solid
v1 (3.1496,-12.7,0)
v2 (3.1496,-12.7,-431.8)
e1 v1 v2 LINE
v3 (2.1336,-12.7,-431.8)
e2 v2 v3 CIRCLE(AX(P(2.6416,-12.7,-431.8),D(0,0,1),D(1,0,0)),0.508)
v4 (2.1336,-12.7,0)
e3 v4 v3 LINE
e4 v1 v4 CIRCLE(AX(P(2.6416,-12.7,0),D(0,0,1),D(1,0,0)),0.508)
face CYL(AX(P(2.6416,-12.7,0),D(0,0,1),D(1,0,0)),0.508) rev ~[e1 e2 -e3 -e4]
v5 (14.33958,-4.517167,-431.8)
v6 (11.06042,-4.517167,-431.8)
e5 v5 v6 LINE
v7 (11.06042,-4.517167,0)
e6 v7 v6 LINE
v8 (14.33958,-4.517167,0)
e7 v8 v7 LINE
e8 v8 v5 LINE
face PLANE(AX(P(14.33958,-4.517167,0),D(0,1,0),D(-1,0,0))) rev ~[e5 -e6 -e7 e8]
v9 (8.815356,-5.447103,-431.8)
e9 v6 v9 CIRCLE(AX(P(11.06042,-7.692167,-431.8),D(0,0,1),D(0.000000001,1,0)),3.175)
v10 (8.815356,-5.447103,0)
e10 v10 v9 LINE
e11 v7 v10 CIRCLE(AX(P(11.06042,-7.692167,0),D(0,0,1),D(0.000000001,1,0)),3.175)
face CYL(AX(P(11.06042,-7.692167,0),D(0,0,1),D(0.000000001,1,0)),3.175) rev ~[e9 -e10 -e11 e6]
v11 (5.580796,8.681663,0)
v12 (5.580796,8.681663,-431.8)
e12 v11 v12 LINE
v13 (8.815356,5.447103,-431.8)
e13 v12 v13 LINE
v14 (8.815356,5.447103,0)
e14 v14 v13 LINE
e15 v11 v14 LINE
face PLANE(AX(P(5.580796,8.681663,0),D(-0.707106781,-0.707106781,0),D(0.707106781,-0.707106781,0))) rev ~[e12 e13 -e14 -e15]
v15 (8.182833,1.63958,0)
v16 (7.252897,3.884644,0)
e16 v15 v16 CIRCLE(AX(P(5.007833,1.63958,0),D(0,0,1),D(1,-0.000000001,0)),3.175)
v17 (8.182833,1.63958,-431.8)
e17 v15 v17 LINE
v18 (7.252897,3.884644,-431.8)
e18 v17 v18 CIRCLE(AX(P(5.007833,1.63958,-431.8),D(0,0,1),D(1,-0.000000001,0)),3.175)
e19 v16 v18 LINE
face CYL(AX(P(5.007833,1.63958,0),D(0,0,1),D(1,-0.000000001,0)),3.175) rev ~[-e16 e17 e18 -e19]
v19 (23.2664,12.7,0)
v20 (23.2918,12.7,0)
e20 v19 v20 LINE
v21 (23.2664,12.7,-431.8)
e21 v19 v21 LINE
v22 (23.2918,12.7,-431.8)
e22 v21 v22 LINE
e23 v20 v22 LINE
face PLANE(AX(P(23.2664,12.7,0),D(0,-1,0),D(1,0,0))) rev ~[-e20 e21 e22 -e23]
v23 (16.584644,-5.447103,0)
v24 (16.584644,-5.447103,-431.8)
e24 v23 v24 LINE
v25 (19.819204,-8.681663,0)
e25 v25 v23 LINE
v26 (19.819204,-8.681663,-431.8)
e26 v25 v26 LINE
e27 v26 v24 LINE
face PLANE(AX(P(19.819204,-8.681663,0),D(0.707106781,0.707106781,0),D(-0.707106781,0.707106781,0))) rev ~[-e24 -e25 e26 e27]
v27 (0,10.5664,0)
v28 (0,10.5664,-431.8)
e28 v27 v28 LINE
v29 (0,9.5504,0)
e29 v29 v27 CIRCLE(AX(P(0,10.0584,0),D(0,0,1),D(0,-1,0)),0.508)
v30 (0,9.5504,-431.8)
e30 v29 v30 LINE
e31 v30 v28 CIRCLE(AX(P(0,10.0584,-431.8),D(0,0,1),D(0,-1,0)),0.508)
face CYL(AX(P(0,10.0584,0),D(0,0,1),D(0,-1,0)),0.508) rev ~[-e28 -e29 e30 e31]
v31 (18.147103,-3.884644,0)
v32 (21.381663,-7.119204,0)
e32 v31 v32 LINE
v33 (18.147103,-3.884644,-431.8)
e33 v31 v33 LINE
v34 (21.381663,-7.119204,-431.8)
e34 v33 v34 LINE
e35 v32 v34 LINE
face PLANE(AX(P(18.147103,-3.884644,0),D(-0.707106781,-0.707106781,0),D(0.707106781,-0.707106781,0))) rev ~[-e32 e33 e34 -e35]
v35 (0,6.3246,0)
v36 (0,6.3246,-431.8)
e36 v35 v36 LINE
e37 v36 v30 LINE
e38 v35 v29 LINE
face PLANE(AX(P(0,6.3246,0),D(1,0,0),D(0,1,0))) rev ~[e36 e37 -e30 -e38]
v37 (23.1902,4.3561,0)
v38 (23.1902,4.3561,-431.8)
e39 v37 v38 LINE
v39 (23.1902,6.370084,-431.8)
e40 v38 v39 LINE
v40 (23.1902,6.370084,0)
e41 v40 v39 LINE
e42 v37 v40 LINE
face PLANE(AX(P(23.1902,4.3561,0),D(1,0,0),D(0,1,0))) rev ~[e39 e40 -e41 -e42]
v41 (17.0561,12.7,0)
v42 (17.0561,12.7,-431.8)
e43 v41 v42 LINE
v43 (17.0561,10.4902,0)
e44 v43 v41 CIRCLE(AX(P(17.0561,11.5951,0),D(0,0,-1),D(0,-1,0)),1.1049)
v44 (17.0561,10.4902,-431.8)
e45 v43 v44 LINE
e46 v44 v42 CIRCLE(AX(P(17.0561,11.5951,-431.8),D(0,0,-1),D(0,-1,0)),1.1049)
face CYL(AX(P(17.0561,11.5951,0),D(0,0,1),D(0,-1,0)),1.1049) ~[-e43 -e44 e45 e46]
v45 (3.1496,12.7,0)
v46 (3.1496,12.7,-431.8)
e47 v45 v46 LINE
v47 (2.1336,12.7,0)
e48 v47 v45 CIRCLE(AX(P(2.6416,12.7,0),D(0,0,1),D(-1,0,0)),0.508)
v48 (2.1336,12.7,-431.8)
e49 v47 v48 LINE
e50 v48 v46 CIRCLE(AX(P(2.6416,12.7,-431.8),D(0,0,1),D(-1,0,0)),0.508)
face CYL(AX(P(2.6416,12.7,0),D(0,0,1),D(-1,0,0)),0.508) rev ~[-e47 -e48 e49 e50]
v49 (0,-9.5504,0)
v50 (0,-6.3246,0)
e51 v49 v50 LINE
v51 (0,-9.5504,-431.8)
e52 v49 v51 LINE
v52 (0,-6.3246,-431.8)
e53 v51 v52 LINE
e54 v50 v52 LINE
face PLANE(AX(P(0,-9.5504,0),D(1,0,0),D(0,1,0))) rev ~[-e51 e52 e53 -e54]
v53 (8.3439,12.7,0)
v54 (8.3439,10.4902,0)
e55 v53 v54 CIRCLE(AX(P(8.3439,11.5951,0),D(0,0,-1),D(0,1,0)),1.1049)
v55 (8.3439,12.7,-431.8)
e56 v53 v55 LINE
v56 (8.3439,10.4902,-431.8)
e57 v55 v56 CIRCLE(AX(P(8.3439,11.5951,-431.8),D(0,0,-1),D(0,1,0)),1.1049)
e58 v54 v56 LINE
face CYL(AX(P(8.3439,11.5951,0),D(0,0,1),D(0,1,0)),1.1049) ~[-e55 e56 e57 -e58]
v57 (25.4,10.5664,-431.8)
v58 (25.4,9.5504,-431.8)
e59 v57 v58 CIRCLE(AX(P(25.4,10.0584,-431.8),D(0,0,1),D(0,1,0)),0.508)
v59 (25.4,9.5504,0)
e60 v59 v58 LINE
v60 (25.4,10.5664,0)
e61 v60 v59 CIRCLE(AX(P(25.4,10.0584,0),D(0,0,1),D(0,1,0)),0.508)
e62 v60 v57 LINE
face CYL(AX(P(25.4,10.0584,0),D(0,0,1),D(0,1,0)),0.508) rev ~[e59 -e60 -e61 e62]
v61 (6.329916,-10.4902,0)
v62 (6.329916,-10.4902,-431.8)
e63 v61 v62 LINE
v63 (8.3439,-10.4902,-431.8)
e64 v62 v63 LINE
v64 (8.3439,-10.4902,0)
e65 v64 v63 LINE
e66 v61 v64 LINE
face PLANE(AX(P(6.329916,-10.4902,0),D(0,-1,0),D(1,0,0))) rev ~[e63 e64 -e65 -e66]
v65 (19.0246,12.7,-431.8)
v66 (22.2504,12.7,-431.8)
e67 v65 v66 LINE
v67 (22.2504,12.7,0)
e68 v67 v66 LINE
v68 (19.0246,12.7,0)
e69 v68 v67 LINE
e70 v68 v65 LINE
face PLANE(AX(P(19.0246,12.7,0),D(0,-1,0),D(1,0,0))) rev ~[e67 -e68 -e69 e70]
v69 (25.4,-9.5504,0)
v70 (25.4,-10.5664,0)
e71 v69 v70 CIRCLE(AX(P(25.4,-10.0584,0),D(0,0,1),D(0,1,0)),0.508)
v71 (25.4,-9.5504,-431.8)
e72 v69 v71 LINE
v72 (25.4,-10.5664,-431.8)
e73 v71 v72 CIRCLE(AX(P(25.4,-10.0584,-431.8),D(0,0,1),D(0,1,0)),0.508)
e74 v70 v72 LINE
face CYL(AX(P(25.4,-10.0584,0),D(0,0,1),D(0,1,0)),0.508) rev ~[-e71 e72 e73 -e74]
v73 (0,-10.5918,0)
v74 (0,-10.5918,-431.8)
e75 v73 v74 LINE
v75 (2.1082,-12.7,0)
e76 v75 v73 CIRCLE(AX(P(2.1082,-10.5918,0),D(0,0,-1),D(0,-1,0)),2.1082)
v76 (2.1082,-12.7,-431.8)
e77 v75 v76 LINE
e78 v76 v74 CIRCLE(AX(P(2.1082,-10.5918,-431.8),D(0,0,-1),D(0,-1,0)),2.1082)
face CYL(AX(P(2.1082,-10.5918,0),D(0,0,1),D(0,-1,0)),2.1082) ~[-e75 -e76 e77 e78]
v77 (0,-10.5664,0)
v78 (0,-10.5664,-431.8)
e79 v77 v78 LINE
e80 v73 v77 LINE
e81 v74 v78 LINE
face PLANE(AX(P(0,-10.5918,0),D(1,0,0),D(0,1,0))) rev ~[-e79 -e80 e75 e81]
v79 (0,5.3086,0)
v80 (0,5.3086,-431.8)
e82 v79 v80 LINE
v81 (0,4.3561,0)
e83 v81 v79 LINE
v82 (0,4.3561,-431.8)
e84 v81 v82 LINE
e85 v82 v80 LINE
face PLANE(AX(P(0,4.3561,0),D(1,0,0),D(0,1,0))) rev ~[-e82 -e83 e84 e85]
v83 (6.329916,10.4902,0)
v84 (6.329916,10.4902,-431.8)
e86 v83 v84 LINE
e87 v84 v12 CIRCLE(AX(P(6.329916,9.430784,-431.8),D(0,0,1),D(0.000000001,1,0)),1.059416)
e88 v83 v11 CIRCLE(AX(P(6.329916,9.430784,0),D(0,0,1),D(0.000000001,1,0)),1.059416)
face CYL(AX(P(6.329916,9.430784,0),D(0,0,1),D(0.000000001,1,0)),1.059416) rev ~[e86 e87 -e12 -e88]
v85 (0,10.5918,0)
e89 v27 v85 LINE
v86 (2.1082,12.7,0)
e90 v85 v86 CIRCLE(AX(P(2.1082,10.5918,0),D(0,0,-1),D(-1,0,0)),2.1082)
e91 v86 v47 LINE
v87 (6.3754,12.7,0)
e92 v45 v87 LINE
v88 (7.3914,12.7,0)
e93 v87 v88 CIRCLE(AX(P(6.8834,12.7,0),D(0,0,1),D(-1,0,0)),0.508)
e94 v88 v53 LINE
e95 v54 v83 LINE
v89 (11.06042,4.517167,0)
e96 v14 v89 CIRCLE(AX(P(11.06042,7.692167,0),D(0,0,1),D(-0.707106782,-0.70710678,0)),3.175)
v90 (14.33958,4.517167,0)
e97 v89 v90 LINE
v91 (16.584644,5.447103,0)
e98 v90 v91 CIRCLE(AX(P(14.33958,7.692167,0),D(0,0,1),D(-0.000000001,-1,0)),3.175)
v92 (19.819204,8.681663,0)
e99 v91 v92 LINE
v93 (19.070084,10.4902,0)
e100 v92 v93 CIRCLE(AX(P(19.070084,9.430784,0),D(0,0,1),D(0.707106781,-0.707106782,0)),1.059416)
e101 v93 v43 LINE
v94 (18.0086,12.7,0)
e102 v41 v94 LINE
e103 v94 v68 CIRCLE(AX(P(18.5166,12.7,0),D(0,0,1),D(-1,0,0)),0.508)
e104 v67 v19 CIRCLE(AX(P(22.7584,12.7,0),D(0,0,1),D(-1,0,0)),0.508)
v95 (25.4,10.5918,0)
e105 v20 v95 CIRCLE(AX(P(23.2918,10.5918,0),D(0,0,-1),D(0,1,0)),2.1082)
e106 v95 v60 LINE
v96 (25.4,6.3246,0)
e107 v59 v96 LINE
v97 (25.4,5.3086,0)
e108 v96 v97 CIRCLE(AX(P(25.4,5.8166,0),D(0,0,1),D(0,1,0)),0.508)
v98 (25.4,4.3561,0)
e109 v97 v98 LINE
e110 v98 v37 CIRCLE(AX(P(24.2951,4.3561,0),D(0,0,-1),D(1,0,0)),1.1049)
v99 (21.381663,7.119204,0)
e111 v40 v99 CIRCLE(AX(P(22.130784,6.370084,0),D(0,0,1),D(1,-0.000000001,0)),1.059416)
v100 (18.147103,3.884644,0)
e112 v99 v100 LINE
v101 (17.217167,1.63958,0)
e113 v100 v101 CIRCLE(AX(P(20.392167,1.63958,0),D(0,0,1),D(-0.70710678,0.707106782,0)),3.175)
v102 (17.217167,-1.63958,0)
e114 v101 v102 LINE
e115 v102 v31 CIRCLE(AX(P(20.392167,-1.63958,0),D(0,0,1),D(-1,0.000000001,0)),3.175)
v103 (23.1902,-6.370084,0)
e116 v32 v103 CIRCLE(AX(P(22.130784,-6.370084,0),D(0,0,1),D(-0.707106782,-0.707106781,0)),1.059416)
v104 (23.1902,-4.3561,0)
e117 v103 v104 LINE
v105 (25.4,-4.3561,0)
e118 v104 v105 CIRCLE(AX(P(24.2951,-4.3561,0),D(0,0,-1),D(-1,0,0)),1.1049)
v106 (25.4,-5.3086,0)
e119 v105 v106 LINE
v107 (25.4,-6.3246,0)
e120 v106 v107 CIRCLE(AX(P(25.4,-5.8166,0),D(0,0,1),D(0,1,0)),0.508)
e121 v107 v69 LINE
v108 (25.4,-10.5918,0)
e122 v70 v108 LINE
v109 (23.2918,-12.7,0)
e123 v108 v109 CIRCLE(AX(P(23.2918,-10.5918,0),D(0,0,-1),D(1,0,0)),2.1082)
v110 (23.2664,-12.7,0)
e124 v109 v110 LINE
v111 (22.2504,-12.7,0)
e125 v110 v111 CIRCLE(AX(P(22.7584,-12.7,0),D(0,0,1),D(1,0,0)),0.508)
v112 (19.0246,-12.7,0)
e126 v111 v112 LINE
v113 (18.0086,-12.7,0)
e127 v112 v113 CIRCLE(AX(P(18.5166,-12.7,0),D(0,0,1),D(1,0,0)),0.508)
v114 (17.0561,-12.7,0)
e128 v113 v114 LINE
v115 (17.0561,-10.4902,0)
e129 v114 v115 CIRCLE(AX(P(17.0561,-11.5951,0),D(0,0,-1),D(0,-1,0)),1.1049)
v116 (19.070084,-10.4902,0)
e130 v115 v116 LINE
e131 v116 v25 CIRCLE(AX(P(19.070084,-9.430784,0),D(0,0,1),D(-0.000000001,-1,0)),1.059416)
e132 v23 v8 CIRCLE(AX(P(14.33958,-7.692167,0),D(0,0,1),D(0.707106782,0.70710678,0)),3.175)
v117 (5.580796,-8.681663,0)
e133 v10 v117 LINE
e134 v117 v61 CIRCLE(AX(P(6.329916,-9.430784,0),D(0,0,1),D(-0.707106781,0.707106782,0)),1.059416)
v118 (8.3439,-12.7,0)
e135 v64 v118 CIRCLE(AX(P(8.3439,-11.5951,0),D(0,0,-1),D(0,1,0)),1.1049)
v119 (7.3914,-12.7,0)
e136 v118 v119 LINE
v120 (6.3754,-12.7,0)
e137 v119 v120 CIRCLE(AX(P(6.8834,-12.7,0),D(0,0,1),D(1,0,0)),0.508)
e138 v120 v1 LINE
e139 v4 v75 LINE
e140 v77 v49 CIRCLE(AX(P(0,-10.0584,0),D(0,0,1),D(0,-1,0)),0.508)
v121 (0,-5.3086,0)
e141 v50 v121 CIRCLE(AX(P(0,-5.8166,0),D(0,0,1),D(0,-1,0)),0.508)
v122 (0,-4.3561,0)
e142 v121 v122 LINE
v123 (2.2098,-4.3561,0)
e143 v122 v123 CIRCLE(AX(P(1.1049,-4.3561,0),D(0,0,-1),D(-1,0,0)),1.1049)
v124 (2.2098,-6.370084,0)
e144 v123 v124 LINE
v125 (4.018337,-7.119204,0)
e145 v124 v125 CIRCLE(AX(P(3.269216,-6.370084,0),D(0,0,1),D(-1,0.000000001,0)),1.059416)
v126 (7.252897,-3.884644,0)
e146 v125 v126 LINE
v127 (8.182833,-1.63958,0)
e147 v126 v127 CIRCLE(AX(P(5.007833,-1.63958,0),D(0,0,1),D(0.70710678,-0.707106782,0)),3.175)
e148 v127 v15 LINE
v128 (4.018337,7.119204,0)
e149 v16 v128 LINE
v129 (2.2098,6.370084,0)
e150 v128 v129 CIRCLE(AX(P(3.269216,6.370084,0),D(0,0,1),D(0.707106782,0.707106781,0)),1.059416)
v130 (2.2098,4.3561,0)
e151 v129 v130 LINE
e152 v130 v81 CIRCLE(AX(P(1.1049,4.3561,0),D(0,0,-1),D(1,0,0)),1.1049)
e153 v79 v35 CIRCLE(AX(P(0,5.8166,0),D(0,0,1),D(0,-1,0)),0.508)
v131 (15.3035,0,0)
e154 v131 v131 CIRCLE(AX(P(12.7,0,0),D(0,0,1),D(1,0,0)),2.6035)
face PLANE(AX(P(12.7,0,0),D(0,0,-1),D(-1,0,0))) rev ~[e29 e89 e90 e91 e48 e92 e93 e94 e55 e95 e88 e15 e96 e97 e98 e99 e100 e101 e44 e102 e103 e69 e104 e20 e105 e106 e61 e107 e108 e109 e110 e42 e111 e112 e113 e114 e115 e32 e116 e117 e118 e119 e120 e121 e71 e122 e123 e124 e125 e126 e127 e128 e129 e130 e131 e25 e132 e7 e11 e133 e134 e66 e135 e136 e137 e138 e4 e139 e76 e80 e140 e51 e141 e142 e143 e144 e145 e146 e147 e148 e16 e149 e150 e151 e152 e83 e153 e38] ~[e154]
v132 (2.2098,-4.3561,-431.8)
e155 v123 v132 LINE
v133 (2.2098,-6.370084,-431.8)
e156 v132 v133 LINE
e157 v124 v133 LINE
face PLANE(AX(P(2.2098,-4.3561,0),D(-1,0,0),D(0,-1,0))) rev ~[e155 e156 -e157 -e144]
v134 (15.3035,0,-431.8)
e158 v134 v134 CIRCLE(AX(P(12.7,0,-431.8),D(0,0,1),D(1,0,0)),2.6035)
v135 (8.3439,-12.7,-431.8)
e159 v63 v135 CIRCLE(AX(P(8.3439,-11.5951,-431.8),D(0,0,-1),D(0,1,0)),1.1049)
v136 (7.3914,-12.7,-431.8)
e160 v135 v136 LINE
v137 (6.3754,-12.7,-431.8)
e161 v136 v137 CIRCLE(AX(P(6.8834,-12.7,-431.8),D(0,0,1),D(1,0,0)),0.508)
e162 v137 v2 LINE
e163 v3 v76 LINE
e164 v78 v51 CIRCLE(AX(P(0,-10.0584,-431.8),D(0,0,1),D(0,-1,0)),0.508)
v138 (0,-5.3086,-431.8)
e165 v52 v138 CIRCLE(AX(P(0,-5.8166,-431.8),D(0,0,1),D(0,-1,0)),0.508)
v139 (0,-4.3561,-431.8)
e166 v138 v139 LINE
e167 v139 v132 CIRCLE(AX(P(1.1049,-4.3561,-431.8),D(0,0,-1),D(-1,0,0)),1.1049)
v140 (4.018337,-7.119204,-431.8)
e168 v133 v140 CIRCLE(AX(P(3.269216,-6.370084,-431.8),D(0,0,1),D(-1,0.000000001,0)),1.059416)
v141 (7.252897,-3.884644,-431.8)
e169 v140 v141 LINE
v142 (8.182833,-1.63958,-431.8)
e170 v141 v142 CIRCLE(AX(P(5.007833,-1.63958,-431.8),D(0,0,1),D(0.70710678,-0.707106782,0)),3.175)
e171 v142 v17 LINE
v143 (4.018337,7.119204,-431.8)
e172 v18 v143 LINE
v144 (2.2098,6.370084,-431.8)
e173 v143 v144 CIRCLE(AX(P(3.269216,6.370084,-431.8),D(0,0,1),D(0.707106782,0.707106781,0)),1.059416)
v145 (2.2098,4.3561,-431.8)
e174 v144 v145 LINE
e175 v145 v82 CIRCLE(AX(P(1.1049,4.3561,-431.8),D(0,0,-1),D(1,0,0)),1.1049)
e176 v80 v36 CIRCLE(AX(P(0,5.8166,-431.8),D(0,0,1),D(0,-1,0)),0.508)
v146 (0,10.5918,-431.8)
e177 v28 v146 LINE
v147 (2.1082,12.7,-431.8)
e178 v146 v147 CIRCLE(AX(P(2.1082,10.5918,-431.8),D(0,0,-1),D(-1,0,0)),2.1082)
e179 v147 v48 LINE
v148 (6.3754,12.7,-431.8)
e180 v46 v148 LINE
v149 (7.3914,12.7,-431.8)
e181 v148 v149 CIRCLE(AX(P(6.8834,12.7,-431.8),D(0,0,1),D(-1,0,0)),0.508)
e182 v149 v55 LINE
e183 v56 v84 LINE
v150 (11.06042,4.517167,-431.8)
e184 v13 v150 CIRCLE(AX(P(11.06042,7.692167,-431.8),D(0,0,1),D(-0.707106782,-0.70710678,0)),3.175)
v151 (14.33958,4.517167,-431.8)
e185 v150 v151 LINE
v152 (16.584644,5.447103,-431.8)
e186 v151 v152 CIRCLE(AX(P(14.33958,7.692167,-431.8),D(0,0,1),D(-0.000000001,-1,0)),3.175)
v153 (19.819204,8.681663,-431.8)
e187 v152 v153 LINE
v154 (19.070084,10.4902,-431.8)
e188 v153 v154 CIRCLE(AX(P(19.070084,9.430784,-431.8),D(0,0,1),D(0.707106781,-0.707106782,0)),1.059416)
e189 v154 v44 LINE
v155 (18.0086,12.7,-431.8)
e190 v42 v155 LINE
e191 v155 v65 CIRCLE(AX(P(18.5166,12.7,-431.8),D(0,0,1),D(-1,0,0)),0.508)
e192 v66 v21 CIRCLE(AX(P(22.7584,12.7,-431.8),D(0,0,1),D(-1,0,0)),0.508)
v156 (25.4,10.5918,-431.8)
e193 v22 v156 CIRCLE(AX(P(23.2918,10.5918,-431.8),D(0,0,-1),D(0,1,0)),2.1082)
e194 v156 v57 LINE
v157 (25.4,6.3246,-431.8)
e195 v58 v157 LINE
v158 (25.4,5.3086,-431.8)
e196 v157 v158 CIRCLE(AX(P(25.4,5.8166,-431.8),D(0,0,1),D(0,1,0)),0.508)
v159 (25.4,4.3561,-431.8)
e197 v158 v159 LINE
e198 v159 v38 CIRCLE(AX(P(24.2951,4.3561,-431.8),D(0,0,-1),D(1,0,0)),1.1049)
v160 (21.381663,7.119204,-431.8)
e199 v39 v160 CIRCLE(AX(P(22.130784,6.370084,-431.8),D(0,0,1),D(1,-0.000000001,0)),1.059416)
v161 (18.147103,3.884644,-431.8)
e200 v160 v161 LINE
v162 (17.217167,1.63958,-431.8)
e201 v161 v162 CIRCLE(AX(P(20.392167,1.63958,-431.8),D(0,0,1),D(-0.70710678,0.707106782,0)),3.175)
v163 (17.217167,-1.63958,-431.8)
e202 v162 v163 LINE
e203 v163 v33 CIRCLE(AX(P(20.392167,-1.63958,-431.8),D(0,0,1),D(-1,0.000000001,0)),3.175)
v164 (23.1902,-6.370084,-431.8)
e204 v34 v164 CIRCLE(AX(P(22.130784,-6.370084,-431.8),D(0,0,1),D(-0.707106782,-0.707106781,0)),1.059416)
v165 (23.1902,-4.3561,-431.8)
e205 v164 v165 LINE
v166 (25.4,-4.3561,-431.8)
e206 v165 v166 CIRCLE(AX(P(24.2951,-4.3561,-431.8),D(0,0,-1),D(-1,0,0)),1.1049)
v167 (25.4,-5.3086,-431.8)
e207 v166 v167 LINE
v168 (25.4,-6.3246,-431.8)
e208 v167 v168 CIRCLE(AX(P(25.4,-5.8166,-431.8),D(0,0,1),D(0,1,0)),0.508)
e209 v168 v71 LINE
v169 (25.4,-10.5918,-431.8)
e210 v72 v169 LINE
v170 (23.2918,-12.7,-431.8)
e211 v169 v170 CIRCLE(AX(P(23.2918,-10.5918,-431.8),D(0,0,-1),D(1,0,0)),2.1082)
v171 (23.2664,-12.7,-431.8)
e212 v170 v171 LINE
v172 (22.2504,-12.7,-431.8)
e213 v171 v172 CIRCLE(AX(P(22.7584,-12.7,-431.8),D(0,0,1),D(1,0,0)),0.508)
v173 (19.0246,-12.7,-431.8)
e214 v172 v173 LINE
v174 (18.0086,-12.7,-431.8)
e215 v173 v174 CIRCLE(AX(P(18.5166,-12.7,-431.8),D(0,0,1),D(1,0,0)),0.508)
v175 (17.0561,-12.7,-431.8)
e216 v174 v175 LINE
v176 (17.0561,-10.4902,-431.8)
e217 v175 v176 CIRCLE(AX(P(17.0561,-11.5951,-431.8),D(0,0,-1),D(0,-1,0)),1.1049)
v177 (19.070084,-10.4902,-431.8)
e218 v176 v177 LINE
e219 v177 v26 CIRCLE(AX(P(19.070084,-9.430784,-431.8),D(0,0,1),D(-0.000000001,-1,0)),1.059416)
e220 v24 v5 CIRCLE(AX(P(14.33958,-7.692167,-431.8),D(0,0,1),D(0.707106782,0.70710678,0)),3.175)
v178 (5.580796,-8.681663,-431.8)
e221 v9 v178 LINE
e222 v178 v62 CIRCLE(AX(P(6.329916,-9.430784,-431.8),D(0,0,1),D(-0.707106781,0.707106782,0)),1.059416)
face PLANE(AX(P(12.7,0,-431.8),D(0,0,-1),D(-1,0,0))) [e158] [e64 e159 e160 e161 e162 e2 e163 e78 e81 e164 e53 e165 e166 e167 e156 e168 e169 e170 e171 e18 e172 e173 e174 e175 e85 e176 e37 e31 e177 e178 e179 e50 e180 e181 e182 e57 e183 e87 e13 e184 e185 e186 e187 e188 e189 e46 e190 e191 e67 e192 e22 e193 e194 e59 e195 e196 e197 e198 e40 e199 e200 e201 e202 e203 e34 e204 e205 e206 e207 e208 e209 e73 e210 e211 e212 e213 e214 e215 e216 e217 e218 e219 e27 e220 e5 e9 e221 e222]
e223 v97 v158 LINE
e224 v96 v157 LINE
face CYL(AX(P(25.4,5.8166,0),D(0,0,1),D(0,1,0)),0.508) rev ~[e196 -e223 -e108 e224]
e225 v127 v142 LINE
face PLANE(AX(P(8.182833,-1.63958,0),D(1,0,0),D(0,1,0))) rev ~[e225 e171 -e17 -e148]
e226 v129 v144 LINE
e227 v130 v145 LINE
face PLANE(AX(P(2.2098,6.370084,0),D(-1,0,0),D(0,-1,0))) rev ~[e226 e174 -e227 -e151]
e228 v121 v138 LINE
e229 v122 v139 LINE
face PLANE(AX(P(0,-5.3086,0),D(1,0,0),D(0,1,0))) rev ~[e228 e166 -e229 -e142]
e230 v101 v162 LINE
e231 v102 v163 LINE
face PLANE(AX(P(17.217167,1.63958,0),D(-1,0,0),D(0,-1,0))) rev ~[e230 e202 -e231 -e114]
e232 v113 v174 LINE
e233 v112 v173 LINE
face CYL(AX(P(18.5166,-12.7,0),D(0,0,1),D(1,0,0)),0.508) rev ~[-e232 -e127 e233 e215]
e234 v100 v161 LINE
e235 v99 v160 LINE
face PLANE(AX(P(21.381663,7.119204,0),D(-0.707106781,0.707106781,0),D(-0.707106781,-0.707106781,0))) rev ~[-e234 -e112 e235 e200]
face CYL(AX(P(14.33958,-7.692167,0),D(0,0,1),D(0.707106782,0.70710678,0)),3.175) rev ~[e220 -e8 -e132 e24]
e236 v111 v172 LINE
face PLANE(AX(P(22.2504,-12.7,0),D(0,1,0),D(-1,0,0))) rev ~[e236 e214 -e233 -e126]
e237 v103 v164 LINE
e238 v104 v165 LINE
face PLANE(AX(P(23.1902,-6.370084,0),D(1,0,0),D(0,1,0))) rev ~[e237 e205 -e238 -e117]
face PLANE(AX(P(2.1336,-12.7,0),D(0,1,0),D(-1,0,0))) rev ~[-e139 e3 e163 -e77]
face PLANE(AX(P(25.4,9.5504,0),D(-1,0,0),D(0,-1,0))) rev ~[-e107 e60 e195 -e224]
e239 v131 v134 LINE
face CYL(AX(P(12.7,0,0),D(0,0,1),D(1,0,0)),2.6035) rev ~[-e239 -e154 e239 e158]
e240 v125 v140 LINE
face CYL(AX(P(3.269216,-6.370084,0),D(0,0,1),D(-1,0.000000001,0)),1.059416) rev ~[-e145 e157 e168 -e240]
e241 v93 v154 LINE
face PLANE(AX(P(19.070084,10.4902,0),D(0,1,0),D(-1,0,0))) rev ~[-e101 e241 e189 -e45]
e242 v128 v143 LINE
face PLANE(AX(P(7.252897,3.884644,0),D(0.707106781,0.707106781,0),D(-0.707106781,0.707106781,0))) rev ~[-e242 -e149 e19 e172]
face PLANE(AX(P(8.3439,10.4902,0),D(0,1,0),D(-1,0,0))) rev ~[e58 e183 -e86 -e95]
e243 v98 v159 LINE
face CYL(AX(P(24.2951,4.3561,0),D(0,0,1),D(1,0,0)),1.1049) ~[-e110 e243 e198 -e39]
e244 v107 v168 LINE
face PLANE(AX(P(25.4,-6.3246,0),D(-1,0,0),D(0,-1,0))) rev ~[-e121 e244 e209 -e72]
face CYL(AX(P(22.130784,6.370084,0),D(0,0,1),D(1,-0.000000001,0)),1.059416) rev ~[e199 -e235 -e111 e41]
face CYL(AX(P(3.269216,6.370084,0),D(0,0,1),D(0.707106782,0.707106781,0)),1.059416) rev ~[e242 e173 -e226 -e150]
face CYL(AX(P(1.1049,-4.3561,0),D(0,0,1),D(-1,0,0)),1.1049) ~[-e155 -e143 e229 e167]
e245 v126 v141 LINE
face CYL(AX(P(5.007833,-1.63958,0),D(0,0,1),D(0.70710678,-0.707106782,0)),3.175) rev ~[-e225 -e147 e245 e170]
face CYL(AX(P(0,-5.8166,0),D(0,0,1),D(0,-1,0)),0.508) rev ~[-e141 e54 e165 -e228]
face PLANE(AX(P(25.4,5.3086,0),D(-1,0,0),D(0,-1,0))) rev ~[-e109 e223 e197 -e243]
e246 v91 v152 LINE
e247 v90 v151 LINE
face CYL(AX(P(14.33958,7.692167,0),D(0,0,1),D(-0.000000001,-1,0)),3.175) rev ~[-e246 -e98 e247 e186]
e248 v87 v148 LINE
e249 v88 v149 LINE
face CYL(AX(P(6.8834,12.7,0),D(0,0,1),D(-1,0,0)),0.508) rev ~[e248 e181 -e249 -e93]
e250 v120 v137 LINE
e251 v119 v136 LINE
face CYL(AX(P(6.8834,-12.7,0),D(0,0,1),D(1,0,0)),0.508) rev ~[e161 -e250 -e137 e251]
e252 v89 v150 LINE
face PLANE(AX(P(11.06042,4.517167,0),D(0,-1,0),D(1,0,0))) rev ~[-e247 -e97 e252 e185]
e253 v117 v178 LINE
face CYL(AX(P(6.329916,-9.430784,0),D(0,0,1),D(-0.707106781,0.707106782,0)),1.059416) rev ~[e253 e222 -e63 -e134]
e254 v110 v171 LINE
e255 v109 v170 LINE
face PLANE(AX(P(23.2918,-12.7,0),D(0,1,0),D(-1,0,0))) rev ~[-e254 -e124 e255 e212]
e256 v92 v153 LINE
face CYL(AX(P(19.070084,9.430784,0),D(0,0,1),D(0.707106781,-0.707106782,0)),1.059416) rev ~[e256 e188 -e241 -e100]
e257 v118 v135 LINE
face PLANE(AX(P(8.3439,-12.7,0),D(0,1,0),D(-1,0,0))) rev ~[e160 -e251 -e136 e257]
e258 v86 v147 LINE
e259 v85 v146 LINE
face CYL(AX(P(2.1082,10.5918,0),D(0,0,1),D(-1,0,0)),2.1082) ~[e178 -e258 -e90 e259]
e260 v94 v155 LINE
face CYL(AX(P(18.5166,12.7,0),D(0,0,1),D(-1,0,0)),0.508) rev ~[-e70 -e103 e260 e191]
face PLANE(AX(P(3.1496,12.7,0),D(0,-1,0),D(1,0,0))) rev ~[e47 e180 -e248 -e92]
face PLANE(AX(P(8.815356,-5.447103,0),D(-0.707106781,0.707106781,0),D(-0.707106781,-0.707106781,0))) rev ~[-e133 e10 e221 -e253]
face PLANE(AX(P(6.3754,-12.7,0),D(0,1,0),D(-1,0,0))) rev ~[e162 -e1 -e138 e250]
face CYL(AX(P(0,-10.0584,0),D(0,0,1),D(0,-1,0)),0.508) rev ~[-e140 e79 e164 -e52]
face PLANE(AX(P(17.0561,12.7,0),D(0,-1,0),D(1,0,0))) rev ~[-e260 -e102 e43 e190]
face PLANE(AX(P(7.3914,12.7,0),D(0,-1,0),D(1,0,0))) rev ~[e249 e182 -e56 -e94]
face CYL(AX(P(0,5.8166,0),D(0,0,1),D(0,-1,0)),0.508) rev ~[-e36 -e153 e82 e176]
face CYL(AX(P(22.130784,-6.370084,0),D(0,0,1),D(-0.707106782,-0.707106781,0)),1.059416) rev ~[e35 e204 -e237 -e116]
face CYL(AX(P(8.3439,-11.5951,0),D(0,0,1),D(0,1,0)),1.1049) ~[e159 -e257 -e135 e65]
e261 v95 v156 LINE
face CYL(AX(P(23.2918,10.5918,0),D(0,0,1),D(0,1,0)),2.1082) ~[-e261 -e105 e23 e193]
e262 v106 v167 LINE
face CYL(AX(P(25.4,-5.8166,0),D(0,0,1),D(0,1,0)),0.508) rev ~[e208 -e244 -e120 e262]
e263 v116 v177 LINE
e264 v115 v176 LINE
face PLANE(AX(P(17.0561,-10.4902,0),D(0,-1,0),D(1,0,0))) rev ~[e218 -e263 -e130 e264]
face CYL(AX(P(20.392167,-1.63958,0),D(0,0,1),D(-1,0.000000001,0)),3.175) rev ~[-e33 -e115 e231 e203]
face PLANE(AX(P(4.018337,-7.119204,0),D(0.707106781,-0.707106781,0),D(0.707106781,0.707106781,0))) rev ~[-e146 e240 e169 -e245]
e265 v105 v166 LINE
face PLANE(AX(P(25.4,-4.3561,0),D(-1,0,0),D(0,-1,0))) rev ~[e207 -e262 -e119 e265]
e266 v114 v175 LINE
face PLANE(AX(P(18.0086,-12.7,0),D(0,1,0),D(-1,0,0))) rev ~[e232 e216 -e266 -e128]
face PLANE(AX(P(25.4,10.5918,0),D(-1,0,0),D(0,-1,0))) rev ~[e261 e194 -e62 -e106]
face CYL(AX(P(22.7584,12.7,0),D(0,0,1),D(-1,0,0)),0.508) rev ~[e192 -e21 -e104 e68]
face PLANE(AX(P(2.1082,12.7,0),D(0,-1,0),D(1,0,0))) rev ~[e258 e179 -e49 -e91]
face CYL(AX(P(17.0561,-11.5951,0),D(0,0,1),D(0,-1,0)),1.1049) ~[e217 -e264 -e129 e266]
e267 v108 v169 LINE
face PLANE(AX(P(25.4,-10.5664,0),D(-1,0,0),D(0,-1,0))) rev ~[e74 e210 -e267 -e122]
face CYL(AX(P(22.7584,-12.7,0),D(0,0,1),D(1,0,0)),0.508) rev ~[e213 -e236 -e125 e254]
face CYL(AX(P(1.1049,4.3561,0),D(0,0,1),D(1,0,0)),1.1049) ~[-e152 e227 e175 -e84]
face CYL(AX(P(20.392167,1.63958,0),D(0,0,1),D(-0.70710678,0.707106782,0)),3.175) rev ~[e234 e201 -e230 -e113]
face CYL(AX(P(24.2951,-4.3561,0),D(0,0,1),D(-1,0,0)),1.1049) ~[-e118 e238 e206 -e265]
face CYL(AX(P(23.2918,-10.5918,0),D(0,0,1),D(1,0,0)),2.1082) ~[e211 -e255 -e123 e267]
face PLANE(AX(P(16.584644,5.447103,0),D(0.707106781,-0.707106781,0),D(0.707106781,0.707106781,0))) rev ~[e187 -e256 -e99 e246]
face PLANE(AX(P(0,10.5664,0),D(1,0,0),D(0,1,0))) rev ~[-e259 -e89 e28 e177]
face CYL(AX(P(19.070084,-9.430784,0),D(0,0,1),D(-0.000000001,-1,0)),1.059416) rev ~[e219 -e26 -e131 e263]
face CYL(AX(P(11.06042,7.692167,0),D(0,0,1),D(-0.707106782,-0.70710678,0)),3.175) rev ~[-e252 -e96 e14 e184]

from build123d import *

# Parameters (mm, degrees)
SKETCH1_R      = 2.6035
EXTRUDE1_DEPTH = 431.8


with BuildPart() as part:
    # Sketch1 → Extrude1 (new body)
    with BuildSketch(Plane.XY):
        with BuildLine():
            Line((2.1336, -12.7), (2.1082, -12.7))
            ThreePointArc((2.1082, -12.7), (0.617477484, -12.082522516), (0, -10.5918))
            Line((0, -10.5918), (0, -10.5664))
            ThreePointArc((0, -10.5664), (0.508, -10.0584), (0, -9.5504))
            Line((0, -9.5504), (0, -6.3246))
            ThreePointArc((0, -6.3246), (0.508, -5.8166), (0, -5.3086))
            Line((0, -5.3086), (0, -4.3561))
            ThreePointArc((0, -4.3561), (1.1049, -3.2512), (2.2098, -4.3561))
            Line((2.2098, -4.3561), (2.2098, -6.370083786))
            ThreePointArc((2.2098, -6.370083786), (2.863795181, -7.348856743), (4.018336603, -7.119204175))
            Line((4.018336603, -7.119204175), (7.252896887, -3.88464389))
            ThreePointArc((7.252896887, -3.88464389), (7.941150373, -2.854599758), (8.182832857, -1.63957986))
            Line((8.182832857, -1.63957986), (8.182832857, 1.63957986))
            ThreePointArc((8.182832857, 1.63957986), (7.941150373, 2.854599758), (7.252896887, 3.88464389))
            Line((7.252896887, 3.88464389), (4.018336603, 7.119204175))
            ThreePointArc((4.018336603, 7.119204175), (2.863795181, 7.348856743), (2.2098, 6.370083786))
            Line((2.2098, 6.370083786), (2.2098, 4.3561))
            ThreePointArc((2.2098, 4.3561), (1.1049, 3.2512), (0, 4.3561))
            Line((0, 4.3561), (0, 5.3086))
            ThreePointArc((0, 5.3086), (0.508, 5.8166), (0, 6.3246))
            Line((0, 6.3246), (0, 9.5504))
            ThreePointArc((0, 9.5504), (0.508, 10.0584), (0, 10.5664))
            Line((0, 10.5664), (0, 10.5918))
            ThreePointArc((0, 10.5918), (0.617477484, 12.082522516), (2.1082, 12.7))
            Line((2.1082, 12.7), (2.1336, 12.7))
            ThreePointArc((2.1336, 12.7), (2.6416, 12.192), (3.1496, 12.7))
            Line((3.1496, 12.7), (6.3754, 12.7))
            ThreePointArc((6.3754, 12.7), (6.8834, 12.192), (7.3914, 12.7))
            Line((7.3914, 12.7), (8.3439, 12.7))
            ThreePointArc((8.3439, 12.7), (9.4488, 11.5951), (8.3439, 10.4902))
            Line((8.3439, 10.4902), (6.329916214, 10.4902))
            ThreePointArc((6.329916214, 10.4902), (5.351143257, 9.836204819), (5.580795825, 8.681663397))
            Line((5.580795825, 8.681663397), (8.81535611, 5.447103113))
            ThreePointArc((8.81535611, 5.447103113), (9.845400242, 4.758849627), (11.06042014, 4.517167143))
            Line((11.06042014, 4.517167143), (14.33957986, 4.517167143))
            ThreePointArc((14.33957986, 4.517167143), (15.554599758, 4.758849627), (16.58464389, 5.447103113))
            Line((16.58464389, 5.447103113), (19.819204175, 8.681663397))
            ThreePointArc((19.819204175, 8.681663397), (20.048856743, 9.836204819), (19.070083786, 10.4902))
            Line((19.070083786, 10.4902), (17.0561, 10.4902))
            ThreePointArc((17.0561, 10.4902), (15.9512, 11.5951), (17.0561, 12.7))
            Line((17.0561, 12.7), (18.0086, 12.7))
            ThreePointArc((18.0086, 12.7), (18.5166, 12.192), (19.0246, 12.7))
            Line((19.0246, 12.7), (22.2504, 12.7))
            ThreePointArc((22.2504, 12.7), (22.7584, 12.192), (23.2664, 12.7))
            Line((23.2664, 12.7), (23.2918, 12.7))
            ThreePointArc((23.2918, 12.7), (24.782522516, 12.082522516), (25.4, 10.5918))
            Line((25.4, 10.5918), (25.4, 10.5664))
            ThreePointArc((25.4, 10.5664), (24.892, 10.0584), (25.4, 9.5504))
            Line((25.4, 9.5504), (25.4, 6.3246))
            ThreePointArc((25.4, 6.3246), (24.892, 5.8166), (25.4, 5.3086))
            Line((25.4, 5.3086), (25.4, 4.3561))
            ThreePointArc((25.4, 4.3561), (24.2951, 3.2512), (23.1902, 4.3561))
            Line((23.1902, 4.3561), (23.1902, 6.370083786))
            ThreePointArc((23.1902, 6.370083786), (22.536204819, 7.348856743), (21.381663397, 7.119204175))
            Line((21.381663397, 7.119204175), (18.147103113, 3.88464389))
            ThreePointArc((18.147103113, 3.88464389), (17.458849627, 2.854599758), (17.217167143, 1.63957986))
            Line((17.217167143, 1.63957986), (17.217167143, -1.63957986))
            ThreePointArc((17.217167143, -1.63957986), (17.458849627, -2.854599758), (18.147103113, -3.88464389))
            Line((18.147103113, -3.88464389), (21.381663397, -7.119204175))
            ThreePointArc((21.381663397, -7.119204175), (22.536204819, -7.348856743), (23.1902, -6.370083786))
            Line((23.1902, -6.370083786), (23.1902, -4.3561))
            ThreePointArc((23.1902, -4.3561), (24.2951, -3.2512), (25.4, -4.3561))
            Line((25.4, -4.3561), (25.4, -5.3086))
            ThreePointArc((25.4, -5.3086), (24.892, -5.8166), (25.4, -6.3246))
            Line((25.4, -6.3246), (25.4, -9.5504))
            ThreePointArc((25.4, -9.5504), (24.892, -10.0584), (25.4, -10.5664))
            Line((25.4, -10.5664), (25.4, -10.5918))
            ThreePointArc((25.4, -10.5918), (24.782522516, -12.082522516), (23.2918, -12.7))
            Line((23.2918, -12.7), (23.2664, -12.7))
            ThreePointArc((23.2664, -12.7), (22.7584, -12.192), (22.2504, -12.7))
            Line((22.2504, -12.7), (19.0246, -12.7))
            ThreePointArc((19.0246, -12.7), (18.5166, -12.192), (18.0086, -12.7))
            Line((18.0086, -12.7), (17.0561, -12.7))
            ThreePointArc((17.0561, -12.7), (15.9512, -11.5951), (17.0561, -10.4902))
            Line((17.0561, -10.4902), (19.070083786, -10.4902))
            ThreePointArc((19.070083786, -10.4902), (20.048856743, -9.836204819), (19.819204175, -8.681663397))
            Line((19.819204175, -8.681663397), (16.58464389, -5.447103113))
            ThreePointArc((16.58464389, -5.447103113), (15.554599758, -4.758849627), (14.33957986, -4.517167143))
            Line((14.33957986, -4.517167143), (11.06042014, -4.517167143))
            ThreePointArc((11.06042014, -4.517167143), (9.845400242, -4.758849627), (8.81535611, -5.447103113))
            Line((8.81535611, -5.447103113), (5.580795825, -8.681663397))
            ThreePointArc((5.580795825, -8.681663397), (5.351143257, -9.836204819), (6.329916214, -10.4902))
            Line((6.329916214, -10.4902), (8.3439, -10.4902))
            ThreePointArc((8.3439, -10.4902), (9.4488, -11.5951), (8.3439, -12.7))
            Line((8.3439, -12.7), (7.3914, -12.7))
            ThreePointArc((7.3914, -12.7), (6.8834, -12.192), (6.3754, -12.7))
            Line((6.3754, -12.7), (3.1496, -12.7))
            ThreePointArc((3.1496, -12.7), (2.6416, -12.192), (2.1336, -12.7))
        make_face()
        with Locations((12.7, 0)):
            Circle(SKETCH1_R, mode=Mode.SUBTRACT)
    extrude(amount=-EXTRUDE1_DEPTH)


solid = part.part
